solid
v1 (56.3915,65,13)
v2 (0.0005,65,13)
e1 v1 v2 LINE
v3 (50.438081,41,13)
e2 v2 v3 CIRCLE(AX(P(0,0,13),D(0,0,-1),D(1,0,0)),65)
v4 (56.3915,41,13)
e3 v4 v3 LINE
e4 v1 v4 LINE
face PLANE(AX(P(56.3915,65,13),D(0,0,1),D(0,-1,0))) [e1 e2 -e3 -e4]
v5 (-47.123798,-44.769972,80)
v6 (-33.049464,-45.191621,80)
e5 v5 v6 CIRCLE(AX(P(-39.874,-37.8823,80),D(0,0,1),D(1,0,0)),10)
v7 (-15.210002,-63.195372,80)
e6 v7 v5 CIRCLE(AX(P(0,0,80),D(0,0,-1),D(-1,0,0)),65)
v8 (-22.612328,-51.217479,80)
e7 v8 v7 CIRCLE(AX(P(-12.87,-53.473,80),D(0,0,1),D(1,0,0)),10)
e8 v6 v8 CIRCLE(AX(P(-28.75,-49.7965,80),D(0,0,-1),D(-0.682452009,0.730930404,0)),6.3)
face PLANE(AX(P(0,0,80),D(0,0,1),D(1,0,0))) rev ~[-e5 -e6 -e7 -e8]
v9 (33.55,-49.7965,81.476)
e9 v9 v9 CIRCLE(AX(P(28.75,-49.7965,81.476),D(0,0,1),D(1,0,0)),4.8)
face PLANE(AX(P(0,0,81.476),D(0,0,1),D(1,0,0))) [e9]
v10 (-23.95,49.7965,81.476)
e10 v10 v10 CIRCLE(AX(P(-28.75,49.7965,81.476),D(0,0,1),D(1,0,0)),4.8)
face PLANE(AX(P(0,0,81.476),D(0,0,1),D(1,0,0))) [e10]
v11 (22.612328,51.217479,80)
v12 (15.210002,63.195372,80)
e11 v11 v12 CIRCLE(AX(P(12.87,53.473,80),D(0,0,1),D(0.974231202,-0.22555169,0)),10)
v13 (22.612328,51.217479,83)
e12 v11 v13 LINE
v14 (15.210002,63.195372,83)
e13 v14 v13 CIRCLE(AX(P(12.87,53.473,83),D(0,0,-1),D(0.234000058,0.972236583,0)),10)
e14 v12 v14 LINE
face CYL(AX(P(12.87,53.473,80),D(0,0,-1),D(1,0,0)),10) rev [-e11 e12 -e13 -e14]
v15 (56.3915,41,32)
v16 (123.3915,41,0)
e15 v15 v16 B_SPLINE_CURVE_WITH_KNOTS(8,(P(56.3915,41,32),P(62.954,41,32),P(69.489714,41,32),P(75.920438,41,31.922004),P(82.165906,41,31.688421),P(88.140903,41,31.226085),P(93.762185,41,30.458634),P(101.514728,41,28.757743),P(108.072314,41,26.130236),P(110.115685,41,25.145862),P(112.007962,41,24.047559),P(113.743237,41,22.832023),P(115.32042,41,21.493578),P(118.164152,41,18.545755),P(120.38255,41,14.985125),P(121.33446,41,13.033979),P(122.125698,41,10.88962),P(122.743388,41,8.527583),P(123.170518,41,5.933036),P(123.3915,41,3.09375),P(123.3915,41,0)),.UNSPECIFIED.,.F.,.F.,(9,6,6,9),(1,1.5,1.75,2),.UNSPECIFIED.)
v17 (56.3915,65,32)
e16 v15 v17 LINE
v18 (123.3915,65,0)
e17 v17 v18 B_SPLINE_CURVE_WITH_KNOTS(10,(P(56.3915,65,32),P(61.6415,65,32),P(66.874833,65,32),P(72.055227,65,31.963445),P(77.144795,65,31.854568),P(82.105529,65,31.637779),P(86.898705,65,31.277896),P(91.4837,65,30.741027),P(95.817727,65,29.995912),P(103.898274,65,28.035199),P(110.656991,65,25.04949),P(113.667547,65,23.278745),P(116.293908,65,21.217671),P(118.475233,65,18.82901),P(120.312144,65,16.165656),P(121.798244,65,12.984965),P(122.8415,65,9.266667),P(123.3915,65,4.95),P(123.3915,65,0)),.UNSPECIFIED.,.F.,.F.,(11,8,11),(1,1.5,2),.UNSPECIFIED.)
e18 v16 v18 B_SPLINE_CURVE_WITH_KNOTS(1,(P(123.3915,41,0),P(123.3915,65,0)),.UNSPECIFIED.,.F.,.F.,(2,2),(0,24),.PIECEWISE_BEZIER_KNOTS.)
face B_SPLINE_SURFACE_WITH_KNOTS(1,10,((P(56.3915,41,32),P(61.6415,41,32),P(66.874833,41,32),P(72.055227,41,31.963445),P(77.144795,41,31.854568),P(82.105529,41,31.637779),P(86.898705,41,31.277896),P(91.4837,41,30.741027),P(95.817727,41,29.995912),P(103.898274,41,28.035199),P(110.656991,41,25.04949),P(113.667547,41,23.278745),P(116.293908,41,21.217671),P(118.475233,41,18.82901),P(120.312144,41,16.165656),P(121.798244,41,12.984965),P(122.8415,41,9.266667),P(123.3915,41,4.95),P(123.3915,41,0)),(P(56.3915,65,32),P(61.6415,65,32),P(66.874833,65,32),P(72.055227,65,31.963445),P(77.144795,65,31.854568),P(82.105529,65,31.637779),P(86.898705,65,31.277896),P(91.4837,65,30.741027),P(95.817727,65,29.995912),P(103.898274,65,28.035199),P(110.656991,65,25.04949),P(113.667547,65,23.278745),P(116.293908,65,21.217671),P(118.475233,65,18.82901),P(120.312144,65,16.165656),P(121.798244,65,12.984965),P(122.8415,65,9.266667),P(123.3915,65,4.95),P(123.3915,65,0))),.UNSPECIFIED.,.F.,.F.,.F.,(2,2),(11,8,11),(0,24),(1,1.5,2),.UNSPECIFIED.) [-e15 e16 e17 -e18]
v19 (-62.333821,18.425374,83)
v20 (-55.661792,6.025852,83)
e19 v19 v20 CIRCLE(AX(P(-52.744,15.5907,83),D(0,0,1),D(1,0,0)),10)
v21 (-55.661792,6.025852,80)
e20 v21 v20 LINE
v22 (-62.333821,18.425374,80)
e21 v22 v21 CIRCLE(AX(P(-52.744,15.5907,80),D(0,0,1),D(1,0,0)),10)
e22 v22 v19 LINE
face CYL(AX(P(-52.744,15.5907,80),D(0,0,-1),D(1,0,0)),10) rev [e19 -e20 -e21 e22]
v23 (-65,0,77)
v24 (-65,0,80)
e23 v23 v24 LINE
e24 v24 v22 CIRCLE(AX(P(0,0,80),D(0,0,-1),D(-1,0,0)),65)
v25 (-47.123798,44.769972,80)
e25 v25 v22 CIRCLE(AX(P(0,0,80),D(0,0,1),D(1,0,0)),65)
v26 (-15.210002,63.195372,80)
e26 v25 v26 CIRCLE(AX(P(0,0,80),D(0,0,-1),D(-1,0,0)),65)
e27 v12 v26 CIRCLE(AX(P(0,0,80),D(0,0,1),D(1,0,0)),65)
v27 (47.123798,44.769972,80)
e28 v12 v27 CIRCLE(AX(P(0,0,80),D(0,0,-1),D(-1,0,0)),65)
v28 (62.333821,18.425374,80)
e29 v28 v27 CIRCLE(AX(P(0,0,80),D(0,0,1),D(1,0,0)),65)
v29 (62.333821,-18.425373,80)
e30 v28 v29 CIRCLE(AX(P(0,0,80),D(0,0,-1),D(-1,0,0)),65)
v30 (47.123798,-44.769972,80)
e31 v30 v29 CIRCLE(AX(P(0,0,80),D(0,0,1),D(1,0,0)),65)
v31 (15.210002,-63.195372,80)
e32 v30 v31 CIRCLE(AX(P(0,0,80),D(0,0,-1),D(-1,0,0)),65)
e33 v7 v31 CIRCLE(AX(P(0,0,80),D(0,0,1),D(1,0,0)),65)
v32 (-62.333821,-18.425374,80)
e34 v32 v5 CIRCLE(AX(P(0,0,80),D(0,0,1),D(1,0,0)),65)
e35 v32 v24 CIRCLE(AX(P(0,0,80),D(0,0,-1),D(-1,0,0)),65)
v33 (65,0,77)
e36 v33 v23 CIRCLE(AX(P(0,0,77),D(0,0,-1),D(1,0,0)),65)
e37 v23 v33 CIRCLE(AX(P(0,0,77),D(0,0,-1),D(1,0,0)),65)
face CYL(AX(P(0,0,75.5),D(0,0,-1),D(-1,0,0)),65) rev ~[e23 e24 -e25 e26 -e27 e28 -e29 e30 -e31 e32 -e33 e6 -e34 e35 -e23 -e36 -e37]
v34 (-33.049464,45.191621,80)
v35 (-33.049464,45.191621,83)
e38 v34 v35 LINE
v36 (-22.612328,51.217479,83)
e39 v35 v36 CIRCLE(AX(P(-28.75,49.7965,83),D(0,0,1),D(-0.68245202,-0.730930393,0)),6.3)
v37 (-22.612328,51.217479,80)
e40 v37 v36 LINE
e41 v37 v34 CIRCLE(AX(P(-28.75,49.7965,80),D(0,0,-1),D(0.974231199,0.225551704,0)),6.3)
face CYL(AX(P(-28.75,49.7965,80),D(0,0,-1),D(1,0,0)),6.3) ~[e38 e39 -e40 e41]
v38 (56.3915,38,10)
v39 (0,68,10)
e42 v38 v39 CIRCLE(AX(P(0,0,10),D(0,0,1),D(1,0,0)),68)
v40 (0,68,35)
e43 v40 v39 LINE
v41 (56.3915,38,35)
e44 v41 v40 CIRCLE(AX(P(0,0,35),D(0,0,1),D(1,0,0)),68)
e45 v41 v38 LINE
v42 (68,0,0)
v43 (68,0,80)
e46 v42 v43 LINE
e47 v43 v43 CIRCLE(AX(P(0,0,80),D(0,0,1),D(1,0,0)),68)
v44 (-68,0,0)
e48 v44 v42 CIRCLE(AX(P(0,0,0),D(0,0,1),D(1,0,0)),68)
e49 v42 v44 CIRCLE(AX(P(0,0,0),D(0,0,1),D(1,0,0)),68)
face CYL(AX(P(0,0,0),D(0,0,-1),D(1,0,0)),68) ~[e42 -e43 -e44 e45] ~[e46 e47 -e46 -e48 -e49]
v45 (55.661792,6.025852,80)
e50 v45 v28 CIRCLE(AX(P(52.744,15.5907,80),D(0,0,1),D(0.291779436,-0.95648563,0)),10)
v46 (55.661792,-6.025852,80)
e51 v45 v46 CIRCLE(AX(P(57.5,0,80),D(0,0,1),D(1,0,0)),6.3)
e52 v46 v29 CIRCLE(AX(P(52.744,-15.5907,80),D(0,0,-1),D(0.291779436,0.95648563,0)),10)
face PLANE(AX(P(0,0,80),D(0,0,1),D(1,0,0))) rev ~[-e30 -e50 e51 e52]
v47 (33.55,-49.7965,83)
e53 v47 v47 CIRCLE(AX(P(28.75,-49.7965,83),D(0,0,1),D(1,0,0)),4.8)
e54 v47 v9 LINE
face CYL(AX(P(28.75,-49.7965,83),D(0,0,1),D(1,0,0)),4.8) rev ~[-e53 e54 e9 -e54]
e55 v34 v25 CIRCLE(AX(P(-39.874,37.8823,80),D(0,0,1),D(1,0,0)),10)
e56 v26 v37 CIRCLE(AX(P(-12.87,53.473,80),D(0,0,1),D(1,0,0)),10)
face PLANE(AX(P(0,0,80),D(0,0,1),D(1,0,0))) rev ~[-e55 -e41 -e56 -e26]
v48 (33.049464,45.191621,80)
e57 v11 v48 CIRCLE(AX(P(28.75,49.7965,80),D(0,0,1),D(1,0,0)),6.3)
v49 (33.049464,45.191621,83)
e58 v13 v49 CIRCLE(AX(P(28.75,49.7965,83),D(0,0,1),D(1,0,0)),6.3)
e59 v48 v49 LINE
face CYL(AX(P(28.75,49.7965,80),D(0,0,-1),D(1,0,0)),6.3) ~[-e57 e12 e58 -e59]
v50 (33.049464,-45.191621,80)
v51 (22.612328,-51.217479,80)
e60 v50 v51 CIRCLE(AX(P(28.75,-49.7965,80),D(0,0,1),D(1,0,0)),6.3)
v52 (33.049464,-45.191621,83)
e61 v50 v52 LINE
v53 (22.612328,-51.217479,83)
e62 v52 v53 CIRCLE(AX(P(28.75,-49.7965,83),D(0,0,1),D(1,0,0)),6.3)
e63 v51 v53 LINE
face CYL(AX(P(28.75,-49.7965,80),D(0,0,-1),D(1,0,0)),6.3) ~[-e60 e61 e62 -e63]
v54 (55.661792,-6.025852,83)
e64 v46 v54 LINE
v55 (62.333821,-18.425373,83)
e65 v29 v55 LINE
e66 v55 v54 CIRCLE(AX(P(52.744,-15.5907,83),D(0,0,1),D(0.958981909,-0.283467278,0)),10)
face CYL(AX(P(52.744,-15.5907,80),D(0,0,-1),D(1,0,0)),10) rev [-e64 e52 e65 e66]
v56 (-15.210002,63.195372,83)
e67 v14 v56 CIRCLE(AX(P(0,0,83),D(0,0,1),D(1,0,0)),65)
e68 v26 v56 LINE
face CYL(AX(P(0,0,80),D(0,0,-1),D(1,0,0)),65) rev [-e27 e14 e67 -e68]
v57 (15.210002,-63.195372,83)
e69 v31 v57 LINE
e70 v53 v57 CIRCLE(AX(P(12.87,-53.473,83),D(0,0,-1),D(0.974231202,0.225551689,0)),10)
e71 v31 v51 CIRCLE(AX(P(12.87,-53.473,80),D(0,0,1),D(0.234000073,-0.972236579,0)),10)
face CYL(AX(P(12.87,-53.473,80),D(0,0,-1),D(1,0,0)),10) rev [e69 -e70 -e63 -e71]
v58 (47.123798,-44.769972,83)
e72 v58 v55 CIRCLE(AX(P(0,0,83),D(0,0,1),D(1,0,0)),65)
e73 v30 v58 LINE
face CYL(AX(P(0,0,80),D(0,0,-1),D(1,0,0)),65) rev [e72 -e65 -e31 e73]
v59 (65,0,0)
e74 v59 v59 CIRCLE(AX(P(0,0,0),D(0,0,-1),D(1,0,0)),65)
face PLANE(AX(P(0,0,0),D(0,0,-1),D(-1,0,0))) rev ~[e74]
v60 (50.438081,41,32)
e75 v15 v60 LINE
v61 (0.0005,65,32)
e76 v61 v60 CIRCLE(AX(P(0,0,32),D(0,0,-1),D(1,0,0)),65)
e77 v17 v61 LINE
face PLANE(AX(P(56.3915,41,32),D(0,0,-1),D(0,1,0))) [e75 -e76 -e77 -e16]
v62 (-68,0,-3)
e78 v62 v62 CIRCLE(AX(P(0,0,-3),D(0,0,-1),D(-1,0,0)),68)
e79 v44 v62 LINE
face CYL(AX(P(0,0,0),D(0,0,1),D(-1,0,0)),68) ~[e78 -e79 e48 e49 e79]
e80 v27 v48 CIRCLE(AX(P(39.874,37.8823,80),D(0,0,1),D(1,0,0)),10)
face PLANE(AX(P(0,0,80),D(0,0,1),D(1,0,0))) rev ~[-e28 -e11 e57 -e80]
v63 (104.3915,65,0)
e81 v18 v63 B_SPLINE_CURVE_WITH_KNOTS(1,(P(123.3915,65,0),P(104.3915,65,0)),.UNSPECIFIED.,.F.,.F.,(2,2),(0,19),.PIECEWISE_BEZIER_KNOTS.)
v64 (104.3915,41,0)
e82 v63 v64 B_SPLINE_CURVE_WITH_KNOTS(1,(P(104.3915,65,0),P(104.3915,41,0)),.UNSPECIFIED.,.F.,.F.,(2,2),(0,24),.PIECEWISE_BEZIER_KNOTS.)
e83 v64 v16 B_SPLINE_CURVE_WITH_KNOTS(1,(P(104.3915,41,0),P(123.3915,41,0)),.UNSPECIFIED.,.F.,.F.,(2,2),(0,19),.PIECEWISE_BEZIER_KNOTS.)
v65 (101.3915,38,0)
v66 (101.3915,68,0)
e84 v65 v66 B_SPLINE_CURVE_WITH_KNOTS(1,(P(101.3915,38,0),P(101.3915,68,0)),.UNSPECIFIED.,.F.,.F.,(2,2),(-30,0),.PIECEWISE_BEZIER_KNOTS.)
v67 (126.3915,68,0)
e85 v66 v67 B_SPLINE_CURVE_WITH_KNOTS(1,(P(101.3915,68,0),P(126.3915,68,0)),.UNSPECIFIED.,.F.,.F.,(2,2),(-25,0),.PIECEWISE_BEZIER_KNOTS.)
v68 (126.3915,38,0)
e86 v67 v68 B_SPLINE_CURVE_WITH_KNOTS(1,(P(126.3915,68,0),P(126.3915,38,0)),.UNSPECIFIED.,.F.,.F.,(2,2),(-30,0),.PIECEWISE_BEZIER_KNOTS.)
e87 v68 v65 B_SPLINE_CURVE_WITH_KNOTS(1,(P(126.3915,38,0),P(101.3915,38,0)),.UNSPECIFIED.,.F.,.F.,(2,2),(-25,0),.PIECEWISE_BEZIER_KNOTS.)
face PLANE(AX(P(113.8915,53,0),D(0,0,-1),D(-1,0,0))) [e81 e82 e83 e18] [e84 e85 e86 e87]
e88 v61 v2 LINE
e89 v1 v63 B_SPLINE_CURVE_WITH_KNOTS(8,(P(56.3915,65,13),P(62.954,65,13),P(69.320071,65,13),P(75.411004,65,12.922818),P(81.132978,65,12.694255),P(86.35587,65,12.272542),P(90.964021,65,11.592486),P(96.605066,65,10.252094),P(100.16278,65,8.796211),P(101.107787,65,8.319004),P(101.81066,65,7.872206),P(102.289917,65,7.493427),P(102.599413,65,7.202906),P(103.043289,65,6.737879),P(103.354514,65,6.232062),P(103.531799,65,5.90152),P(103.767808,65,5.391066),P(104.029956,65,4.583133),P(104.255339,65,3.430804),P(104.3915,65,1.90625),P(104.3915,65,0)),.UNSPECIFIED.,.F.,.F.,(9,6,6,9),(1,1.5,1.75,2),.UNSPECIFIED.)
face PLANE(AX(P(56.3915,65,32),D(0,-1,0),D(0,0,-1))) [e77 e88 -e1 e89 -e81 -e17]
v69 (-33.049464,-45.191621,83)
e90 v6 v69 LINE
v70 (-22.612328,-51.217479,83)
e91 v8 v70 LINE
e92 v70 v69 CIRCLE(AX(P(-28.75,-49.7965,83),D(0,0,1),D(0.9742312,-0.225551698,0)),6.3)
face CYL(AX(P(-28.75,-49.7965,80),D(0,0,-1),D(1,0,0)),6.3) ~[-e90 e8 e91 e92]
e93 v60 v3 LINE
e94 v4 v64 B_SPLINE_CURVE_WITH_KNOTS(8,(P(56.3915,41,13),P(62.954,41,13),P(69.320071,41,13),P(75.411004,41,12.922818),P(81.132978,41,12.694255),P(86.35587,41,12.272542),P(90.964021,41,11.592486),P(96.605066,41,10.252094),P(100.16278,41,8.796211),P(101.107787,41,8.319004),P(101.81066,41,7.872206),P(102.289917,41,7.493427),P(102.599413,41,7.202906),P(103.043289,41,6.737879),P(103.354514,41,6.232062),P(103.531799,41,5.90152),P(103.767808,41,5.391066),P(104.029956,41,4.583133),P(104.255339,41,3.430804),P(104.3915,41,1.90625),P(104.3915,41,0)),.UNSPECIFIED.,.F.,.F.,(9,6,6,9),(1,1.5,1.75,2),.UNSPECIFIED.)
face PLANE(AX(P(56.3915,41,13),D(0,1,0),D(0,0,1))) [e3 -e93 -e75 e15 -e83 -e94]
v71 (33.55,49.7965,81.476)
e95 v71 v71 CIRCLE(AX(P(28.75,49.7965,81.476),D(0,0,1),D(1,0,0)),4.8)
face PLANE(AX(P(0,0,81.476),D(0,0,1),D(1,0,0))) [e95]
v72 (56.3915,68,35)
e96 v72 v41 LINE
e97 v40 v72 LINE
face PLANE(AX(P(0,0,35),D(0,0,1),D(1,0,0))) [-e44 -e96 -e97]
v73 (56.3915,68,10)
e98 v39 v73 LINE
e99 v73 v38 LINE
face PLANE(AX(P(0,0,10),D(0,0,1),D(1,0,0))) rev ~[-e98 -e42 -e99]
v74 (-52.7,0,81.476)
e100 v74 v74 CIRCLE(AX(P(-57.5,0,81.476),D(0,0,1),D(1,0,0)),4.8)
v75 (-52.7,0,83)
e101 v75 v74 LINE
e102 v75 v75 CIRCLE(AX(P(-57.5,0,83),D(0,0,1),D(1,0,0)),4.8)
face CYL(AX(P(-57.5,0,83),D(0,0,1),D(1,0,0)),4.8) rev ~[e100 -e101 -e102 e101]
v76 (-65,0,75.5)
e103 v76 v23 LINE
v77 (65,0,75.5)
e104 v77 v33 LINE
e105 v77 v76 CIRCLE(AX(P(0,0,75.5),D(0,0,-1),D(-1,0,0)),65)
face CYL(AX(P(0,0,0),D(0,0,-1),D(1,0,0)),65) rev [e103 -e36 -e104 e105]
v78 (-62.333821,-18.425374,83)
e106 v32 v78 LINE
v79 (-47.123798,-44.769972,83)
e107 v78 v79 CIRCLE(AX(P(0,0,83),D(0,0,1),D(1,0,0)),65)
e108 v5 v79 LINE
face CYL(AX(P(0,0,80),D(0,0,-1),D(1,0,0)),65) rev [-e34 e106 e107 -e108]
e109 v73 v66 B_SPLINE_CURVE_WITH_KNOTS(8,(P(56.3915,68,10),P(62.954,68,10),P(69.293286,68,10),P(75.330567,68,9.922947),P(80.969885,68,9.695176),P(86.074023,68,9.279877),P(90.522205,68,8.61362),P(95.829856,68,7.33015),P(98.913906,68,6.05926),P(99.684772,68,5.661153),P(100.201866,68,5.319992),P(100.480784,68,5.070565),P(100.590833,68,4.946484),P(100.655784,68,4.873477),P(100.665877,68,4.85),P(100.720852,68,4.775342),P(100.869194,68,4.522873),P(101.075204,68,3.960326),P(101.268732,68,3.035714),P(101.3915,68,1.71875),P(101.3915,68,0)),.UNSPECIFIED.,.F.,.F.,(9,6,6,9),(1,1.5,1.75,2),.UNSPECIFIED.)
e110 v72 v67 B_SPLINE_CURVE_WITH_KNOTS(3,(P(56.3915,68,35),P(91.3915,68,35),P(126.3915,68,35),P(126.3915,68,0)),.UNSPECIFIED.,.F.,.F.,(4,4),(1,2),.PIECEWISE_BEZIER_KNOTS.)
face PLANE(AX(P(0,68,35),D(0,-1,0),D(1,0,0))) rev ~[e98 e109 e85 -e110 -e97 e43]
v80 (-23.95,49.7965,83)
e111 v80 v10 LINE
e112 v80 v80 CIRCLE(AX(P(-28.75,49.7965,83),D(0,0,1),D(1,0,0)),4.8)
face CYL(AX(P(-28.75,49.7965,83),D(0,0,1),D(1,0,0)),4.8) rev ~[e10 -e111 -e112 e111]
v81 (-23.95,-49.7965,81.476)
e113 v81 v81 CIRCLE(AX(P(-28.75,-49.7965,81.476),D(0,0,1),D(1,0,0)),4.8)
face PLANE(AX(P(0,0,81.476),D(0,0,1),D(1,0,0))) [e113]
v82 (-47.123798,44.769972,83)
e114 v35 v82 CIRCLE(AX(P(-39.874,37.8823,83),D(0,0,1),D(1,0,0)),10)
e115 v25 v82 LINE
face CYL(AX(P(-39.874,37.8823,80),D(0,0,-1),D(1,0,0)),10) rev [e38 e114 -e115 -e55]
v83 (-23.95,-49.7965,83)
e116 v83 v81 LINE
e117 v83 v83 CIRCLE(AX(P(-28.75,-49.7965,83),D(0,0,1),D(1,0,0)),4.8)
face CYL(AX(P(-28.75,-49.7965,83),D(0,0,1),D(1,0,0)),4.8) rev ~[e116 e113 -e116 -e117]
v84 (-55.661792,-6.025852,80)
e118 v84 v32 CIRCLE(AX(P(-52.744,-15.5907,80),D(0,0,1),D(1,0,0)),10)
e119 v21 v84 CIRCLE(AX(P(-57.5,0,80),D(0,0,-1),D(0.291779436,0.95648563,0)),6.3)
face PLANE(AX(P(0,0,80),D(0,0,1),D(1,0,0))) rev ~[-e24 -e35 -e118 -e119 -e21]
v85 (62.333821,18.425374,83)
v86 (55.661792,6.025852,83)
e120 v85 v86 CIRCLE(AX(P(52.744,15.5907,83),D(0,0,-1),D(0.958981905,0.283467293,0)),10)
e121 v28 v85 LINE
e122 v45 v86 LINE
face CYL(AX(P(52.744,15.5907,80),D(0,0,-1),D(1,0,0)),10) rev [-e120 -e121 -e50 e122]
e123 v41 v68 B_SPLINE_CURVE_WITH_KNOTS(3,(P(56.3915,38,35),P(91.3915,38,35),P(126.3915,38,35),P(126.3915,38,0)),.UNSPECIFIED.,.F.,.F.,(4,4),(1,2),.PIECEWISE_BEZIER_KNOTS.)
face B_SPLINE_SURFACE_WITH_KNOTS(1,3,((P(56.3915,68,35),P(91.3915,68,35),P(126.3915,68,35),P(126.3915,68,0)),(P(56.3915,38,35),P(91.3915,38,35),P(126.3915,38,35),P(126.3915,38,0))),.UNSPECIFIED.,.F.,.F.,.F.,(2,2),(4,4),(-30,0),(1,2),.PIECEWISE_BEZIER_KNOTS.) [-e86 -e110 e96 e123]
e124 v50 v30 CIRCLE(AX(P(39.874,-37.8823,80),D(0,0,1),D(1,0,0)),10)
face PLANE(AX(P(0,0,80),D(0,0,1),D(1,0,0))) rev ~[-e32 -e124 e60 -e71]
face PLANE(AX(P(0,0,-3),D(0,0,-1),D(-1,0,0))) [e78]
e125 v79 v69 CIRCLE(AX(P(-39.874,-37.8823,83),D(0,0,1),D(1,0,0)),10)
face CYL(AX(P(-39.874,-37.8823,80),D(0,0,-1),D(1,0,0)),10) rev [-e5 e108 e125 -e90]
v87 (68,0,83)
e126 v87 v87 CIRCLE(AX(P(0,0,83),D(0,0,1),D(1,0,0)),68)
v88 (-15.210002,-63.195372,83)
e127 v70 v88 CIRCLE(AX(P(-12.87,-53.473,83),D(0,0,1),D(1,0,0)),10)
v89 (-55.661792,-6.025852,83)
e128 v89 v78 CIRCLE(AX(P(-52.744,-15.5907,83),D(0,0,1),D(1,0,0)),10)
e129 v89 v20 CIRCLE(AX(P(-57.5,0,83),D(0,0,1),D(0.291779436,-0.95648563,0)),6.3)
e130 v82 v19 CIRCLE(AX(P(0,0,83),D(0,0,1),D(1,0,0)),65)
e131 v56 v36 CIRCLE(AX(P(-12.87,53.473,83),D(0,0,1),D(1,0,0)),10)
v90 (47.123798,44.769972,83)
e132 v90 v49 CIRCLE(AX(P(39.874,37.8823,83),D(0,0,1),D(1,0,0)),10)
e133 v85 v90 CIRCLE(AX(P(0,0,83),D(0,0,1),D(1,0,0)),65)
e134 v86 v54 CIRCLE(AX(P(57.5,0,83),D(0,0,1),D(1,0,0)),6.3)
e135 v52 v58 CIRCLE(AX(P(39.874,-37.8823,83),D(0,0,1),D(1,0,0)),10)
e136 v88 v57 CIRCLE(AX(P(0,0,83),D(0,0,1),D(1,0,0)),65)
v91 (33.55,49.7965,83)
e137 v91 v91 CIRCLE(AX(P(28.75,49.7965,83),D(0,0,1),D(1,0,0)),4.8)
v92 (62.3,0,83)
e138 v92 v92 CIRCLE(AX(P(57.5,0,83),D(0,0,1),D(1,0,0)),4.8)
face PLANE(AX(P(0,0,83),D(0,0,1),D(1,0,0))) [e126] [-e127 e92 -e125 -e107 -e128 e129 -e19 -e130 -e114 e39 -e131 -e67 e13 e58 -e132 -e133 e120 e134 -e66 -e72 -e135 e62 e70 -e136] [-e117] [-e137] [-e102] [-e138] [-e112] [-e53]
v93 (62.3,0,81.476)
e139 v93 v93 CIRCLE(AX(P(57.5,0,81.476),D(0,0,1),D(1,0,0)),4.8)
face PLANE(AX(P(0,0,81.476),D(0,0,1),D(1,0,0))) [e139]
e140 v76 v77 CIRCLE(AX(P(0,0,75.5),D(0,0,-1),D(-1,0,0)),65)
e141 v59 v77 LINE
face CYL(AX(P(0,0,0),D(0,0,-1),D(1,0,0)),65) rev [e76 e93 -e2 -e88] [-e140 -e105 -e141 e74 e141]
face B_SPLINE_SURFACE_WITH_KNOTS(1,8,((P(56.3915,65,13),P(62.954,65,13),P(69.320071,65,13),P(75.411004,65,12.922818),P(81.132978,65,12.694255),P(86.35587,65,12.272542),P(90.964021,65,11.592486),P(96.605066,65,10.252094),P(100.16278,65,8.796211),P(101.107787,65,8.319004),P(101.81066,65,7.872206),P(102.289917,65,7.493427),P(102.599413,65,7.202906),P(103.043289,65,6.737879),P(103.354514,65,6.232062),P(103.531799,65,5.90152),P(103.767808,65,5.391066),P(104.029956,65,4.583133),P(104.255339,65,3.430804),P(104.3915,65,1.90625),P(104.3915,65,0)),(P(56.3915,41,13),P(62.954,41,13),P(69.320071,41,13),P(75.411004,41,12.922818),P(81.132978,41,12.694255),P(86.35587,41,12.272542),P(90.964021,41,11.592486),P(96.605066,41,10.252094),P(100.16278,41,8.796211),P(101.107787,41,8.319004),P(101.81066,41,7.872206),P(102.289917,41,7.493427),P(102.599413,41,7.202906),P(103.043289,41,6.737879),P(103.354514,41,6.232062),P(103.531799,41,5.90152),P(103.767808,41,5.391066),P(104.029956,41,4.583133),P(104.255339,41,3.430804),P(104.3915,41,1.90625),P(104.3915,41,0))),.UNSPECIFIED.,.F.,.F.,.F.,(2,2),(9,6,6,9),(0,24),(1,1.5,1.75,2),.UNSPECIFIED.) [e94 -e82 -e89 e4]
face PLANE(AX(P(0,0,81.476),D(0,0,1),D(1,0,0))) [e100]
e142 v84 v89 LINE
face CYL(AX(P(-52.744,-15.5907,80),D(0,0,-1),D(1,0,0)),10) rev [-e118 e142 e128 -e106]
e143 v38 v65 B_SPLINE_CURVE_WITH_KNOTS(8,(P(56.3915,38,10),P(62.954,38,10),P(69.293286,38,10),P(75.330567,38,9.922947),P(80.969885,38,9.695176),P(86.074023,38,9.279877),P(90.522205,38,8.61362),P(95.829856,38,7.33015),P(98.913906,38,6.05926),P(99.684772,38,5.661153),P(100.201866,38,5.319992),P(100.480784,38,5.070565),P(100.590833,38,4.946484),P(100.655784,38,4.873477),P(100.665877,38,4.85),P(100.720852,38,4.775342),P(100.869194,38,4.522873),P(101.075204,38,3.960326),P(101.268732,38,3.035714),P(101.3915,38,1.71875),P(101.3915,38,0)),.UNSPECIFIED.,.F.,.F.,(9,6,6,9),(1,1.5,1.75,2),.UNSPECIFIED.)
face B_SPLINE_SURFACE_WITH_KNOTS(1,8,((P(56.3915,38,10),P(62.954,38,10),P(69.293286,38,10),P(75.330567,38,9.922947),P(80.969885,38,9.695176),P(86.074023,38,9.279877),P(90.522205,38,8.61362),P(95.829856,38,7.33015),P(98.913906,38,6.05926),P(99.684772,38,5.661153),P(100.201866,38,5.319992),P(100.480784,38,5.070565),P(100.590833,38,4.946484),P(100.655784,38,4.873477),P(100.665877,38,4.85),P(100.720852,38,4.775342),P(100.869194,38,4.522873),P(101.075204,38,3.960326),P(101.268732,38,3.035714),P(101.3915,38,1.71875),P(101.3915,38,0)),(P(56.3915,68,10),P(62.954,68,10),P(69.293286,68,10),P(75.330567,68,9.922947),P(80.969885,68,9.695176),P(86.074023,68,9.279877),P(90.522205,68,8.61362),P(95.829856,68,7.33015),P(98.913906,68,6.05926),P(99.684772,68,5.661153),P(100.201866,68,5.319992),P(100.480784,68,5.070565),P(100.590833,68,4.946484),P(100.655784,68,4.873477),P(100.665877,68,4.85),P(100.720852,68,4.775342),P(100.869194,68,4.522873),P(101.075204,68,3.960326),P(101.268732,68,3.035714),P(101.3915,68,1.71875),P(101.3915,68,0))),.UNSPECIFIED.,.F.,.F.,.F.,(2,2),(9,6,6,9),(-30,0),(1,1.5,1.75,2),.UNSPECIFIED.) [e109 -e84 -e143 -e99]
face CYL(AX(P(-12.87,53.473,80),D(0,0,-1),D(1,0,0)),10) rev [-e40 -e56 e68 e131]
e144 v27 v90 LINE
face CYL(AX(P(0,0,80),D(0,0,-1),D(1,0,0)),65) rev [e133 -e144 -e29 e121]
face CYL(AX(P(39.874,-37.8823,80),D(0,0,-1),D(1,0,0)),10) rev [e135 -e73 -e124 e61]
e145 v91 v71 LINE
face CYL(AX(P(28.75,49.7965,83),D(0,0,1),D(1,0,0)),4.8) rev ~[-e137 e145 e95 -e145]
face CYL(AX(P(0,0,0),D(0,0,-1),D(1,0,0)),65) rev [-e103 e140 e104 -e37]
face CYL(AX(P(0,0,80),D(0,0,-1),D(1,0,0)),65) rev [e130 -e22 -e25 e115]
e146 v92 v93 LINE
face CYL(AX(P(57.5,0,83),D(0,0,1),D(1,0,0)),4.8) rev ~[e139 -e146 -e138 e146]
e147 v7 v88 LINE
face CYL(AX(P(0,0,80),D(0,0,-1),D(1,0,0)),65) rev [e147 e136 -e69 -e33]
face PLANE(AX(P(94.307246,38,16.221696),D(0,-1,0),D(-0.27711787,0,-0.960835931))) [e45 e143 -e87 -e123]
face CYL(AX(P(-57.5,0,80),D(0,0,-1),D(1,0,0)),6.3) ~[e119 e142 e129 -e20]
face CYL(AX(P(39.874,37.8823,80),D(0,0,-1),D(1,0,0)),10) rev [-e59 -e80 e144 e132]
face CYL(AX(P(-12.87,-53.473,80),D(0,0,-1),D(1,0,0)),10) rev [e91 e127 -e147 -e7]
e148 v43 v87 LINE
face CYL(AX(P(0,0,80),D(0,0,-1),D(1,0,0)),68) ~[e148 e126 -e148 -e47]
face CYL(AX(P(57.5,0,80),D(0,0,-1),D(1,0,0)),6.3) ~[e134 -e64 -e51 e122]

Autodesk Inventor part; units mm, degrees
ref_plane "YZ Plane" through (0, 0, 0) normal (1, 0, 0) x (0, 1, 0)
sketch "Sketch1" plane through (0, 0, 0) normal (0, 0, 1) x (1, 0, 0)
  circle A0 centre (0, 0) radius 68
  dimension "d1" = 136
extrude "Extrusion1" add sketch "Sketch1" along normal blind 80
shell "Shell1" thickness 3 removed faces 1 at (13.6377, 7.7647, 0)
sketch "Sketch2" plane through (0, 0, 80) normal (0, 0, 1) x (1, 0, 0)
  circle A0 centre (0, 0) radius 32
  dimension "d5" = 64
extrude "Extrusion2" cut sketch "Sketch2" against normal up to surface (3 mm away)
sketch "Sketch3" plane through (0, 0, 77) normal (0, 0, -1) x (-1, 0, 0)
  circle A0 centre (0, 0) radius 32 projected
  circle A1 centre (0, 0) radius 65 projected
  circle A2 centre (0, -40) radius 4.8
  line L0 (0, 0) -> (0, -56.282) construction
  line L1 (0, 0) -> (-47.9956, 27.7103) construction
  line L2 (0, 0) -> (60.1339, 34.7183) construction
  circle A3 centre (-34.641, 20) radius 4.8
  circle A4 centre (34.641, 20) radius 4.8
  dimension "d8" = 9.6
  dimension "d9" = 40
  dimension "d10" = 120
  dimension "d11" = 120
  dimension "d12" = 9.6
  dimension "d13" = 9.6
  dimension "d14" = 40
  dimension "d15" = 40
extrude "Extrusion3" cut sketch "Sketch3" against normal blind 1.524 contours A2 | A3 | A4
ref_plane "Work Plane1" through (0, 0, 35) normal (0, 0, 1) x (1, 0, 0)
sketch "Sketch4" plane through (0, 0, 35) normal (0, 0, 1) x (1, 0, 0)
  circle A0 centre (0, 0) radius 68 projected
  circle A1 centre (0, 0) radius 68 projected
  line L0 (0, 68) -> (56.3915, 68)
  line L1 (56.3915, 68) -> (56.3915, 38)
  line L2 (56.3915, 38) -> (0, 38)
  line L3 (0, 38) -> (0, 68)
  dimension "d24" = 30
extrude "Extrusion4" add sketch "Sketch4" against normal blind 25 contours A0 L0 L1
sketch "Sketch6" plane through (56.3915, 38, 35) normal (1, 0, 0) x (0, 0, -1)
  line L0 (0, 0) -> (0, 30) projected
  line L1 (25, 0) -> (0, 0) projected
  line L2 (25, 30) -> (25, 0) projected
  line L3 (0, 30) -> (25, 30) projected
  line L4 (22, 27) -> (22, 3)
  line L5 (22, 3) -> (3, 3)
  line L6 (3, 3) -> (3, 27)
  line L7 (3, 27) -> (22, 27)
  point P0 (35, -38)
  dimension "d27" = 3
extrude "Extrusion5" cut sketch "Sketch6" against normal blind 56.391 contours L4 L5 L6 L7
ref_plane "Work Plane4" through (0, 68, 0) normal (0, 1, 0) x (-1, 0, 0)
sketch "Sketch9" plane through (56.3915, 38, 35) normal (1, 0, 0) x (0, 0, -1)
  line L0 (3, 3) -> (3, 27) projected
  line L1 (3, 27) -> (22, 27) projected
  line L2 (22, 27) -> (22, 3) projected
  line L3 (22, 3) -> (3, 3) projected
  line L4 (0, 0) -> (0, 30) projected
  line L5 (25, 0) -> (0, 0) projected
  line L6 (25, 30) -> (25, 0) projected
  line L7 (0, 30) -> (25, 30) projected
  point P0 (35, -38)
sketch "Sketch10" plane through (0, 68, 0) normal (0, 1, 0) x (-1, 0, 0)
  line L0 (-160.9388, 35) -> (106.1565, 35) projected
  line L1 (-56.3915, 35) -> (0, 35) projected
  line L2 (0, 0) -> (-96.3915, 0) construction
  line L3 (-68, 0) -> (-68, 80) projected
  line L4 (-56.3915, 35) -> (-91.3915, 35) construction
  line L5 (-91.3915, 35) -> (-126.3915, 35) construction
  line L6 (-126.3915, 35) -> (-126.3915, 0) construction
  spline S0 degree 3 poles (-56.3915, 35) (-91.3915, 35) (-126.3915, 35) (-126.3915, 0) knots 1 1 1 1 2 2 2 2
  line L7 (-126.3915, 0) -> (-126.3915, 60.9318) construction
  point P0 (-91.3915, 0)
  dimension "d113" = 70
  dimension "d114" = 35
  dimension "d115" = 35
sweep "Sweep2" add profiles "Sketch9" path "Sketch10" path curves S0
sketch "Sketch11" plane through (0, 0, 77) normal (0, 0, -1) x (-1, 0, 0)
  circle A0 centre (-34.641, 20) radius 4.8 projected
  circle A1 centre (34.641, 20) radius 4.8 projected
  circle A2 centre (0, -40) radius 4.8 projected
  circle A3 centre (0, 0) radius 32 projected
  circle A4 centre (0, 0) radius 65 projected
  circle A5 centre (-34.641, 20) radius 6.3
  circle A6 centre (34.641, 20) radius 6.3
  circle A7 centre (0, -40) radius 6.3
  circle A8 centre (0, 0) radius 33.5
  line L0 (-36.0415, 26.1424) -> (-7.4468, 32.6618)
  line L1 (-40.6607, 18.1416) -> (-32.0094, -9.8818)
  line L2 (36.0415, 26.1424) -> (7.4468, 32.6618)
  line L3 (40.6607, 18.1416) -> (32.0094, -9.8818)
  line L4 (4.6192, -44.284) -> (24.5626, -22.78)
  line L5 (-4.6192, -44.284) -> (-24.5626, -22.78)
  circle A9 centre (-34.641, 20) radius 7.8
  line L6 (-42.0939, 17.6992) -> (-34.7194, -6.1884)
  circle A10 centre (34.641, 20) radius 7.8
  circle A11 centre (0, -40) radius 7.8
  line L7 (-36.3749, 27.6048) -> (-12.0004, 33.1621)
  line L8 (36.3749, 27.6048) -> (12.0004, 33.1621)
  line L9 (42.0939, 17.6992) -> (34.7194, -6.1884)
  line L10 (5.7191, -45.304) -> (22.7191, -26.9737)
  line L11 (-5.7191, -45.304) -> (-22.7191, -26.9737)
  line L12 (-34.7194, -6.1884) -> (-33.2862, -5.746)
  line L13 (-22.7191, -26.9737) -> (-21.6192, -25.9537)
  line L14 (12.0004, 33.1621) -> (11.6669, 31.6997)
  line L15 (34.7194, -6.1884) -> (33.2862, -5.746)
  line L16 (22.7191, -26.9737) -> (21.6192, -25.9537)
  line L17 (-12.0004, 33.1621) -> (-11.6669, 31.6997)
  dimension "d39" = 1.5
  dimension "d40" = 1.5
  dimension "d41" = 1.5
  dimension "d42" = 1.5
  dimension "d43" = 1.5
  dimension "d44" = 1.5
  dimension "d45" = 1.5
  dimension "d46" = 25
  dimension "d47" = 25
  dimension "d48" = 25
  dimension "d49" = 25
  dimension "d50" = 25
  dimension "d51" = 25
extrude "Extrusion6" add sketch "Sketch11" along normal blind 1.5 contours A5 L1 A9 L0 | A9 L7 L17 L0 | L1 L12 L6 A9 | L14 L8 A10 L2 | L5 A11 L11 L13 | A10 L3 A6 L2 | L5 A7 L4 A11 | A10 L9 L15 L3 | L16 L10 A11 L4
sketch "Sketch14" plane through (0, 0, 80) normal (0, 0, 1) x (1, 0, 0)
  circle A0 centre (0, 0) radius 32 projected
  line L0 (0, 0) -> (0, 28.9416) construction
  circle A1 centre (0, 41) radius 3
  line L1 (0, 0) -> (-25.0642, -14.4708) construction
  line L2 (0, 0) -> (25.0642, -14.4708) construction
  point P0 (-35.507, -20.5)
  point P1 (-35.507, -20.5)
  point P2 (35.507, -20.5)
  point P3 (35.507, -20.5)
  dimension "d98" = 6
  dimension "d99" = 41
  dimension "d102" = 360
hole "Hole1" at (0, 41, 80) at (-35.507, -20.5, 80) at (35.507, -20.5, 80) direction (0, 0, -1) diameter 6 end through all
sketch "Sketch16" plane through (0, 0, 0) normal (0, 0, -1) x (-1, 0, 0)
  circle A0 centre (0, 0) radius 68 projected
extrude "Extrusion9" add sketch "Sketch16" along normal blind 3
sketch "Sketch17" plane through (0, 0, 75.5) normal (0, 0, -1) x (-1, 0, 0)
  circle A0 centre (0, 0) radius 65 projected
extrude "Extrusion10" cut sketch "Sketch17" against normal up to surface (4.5 mm away)
sketch "Sketch18" plane through (0, 0, 80) normal (0, 0, 1) x (1, 0, 0)
  circle A0 centre (0, 0) radius 65 projected
  circle A1 centre (0, 0) radius 68 projected
  line L0 (0, 0) -> (-83.6751, 0) construction
  circle A2 centre (-57.5, 0) radius 4.8
  circle A3 centre (-57.5, 0) radius 6.3
  circle A4 centre (-52.744, -15.5907) radius 10
  circle A5 centre (-52.744, 15.5907) radius 10
  circle A6 centre (0, 0) radius 65 projected
  circle A7 centre (-28.75, -49.7965) radius 6.3
  circle A8 centre (-28.75, -49.7965) radius 4.8
  circle A9 centre (-39.874, -37.8823) radius 10
  circle A10 centre (-12.87, -53.473) radius 10
  circle A11 centre (28.75, -49.7965) radius 6.3
  circle A12 centre (28.75, -49.7965) radius 4.8
  circle A13 centre (12.87, -53.473) radius 10
  circle A14 centre (39.874, -37.8823) radius 10
  circle A15 centre (57.5, 0) radius 6.3
  circle A16 centre (57.5, 0) radius 4.8
  circle A17 centre (52.744, -15.5907) radius 10
  circle A18 centre (52.744, 15.5907) radius 10
  circle A19 centre (28.75, 49.7965) radius 6.3
  circle A20 centre (28.75, 49.7965) radius 4.8
  circle A21 centre (39.874, 37.8823) radius 10
  circle A22 centre (12.87, 53.473) radius 10
  circle A23 centre (-28.75, 49.7965) radius 6.3
  circle A24 centre (-28.75, 49.7965) radius 4.8
  circle A25 centre (-12.87, 53.473) radius 10
  circle A26 centre (-39.874, 37.8823) radius 10
  point P0 (-55.6618, 6.0259)
  point P1 (-62.3338, 18.4254)
  point P2 (-47.1238, 44.77)
  point P3 (-33.0494, 45.1916)
  point P4 (-22.6123, 51.2175)
  point P5 (-15.2101, 63.1954)
  point P6 (15.2101, 63.1954)
  point P7 (22.6123, 51.2175)
  point P8 (33.0494, 45.1916)
  point P9 (47.1238, 44.77)
  point P10 (62.3338, 18.4254)
  point P11 (55.6618, 6.0259)
  point P12 (55.6618, -6.0259)
  point P13 (62.3338, -18.4254)
  point P14 (47.1238, -44.77)
  point P15 (33.0494, -45.1916)
  point P16 (22.6123, -51.2175)
  point P17 (15.2101, -63.1954)
  point P18 (-15.2101, -63.1954)
  point P19 (-22.6123, -51.2175)
  point P20 (-33.0494, -45.1916)
  point P21 (-47.1238, -44.77)
  point P22 (-62.3338, -18.4254)
  point P23 (-55.6618, -6.0259)
  dimension "d118" = 9.6
  dimension "d119" = 57.5
  dimension "d120" = 1.5
  dimension "d121" = 20
  dimension "d122" = 20
  dimension "d125" = 360
extrude "Extrusion11" add sketch "Sketch18" along normal blind 3 contours A0 A17 A15 A18 | A21 A19 A22 A0 | A15 | A0 A13 A11 A14 | A19 | A11 | A25 A23 A26 A0 | A0 A9 A7 A10 | A23 | A7 | A5 A3 A4 A0 | A3 | A1 | A2 | A8 | A12 | A16 | A20 | A24
sketch "Sketch19" plane through (0, 0, 83) normal (0, 0, 1) x (1, 0, 0)
  line L0 (0, 0) -> (-55.7634, 0) construction
  circle A0 centre (0, 0) radius 68 projected
  circle A1 centre (-57.5, 0) radius 4.8
  circle A2 centre (-28.75, -49.7965) radius 4.8
  circle A3 centre (28.75, -49.7965) radius 4.8
  circle A4 centre (57.5, 0) radius 4.8
  circle A5 centre (28.75, 49.7965) radius 4.8
  circle A6 centre (-28.75, 49.7965) radius 4.8
  dimension "d129" = 9.6
  dimension "d130" = 57.5
  dimension "d133" = 360
extrude "Extrusion12" cut sketch "Sketch19" against normal blind 1.524 contours A1 | A2 | A3 | A4 | A5 | A6
equation "\"d11\" = d10"
equation "\"d12\" = d8"
equation "\"d13\" = d8"
equation "\"d14\" = d9"
equation "\"d15\" = d9"
equation "\"d40\" = d39"
equation "\"d41\" = d39"
equation "\"d42\" = d39"
equation "\"d44\" = d43"
equation "\"d45\" = d41"
equation "\"d47\" = d46"
equation "\"d48\" = d47"
equation "\"d49\" = d48"
equation "\"d50\" = d49"
equation "\"d51\" = d50"
equation "\"d122\" = d121"
properties part number "Dust Bin"
